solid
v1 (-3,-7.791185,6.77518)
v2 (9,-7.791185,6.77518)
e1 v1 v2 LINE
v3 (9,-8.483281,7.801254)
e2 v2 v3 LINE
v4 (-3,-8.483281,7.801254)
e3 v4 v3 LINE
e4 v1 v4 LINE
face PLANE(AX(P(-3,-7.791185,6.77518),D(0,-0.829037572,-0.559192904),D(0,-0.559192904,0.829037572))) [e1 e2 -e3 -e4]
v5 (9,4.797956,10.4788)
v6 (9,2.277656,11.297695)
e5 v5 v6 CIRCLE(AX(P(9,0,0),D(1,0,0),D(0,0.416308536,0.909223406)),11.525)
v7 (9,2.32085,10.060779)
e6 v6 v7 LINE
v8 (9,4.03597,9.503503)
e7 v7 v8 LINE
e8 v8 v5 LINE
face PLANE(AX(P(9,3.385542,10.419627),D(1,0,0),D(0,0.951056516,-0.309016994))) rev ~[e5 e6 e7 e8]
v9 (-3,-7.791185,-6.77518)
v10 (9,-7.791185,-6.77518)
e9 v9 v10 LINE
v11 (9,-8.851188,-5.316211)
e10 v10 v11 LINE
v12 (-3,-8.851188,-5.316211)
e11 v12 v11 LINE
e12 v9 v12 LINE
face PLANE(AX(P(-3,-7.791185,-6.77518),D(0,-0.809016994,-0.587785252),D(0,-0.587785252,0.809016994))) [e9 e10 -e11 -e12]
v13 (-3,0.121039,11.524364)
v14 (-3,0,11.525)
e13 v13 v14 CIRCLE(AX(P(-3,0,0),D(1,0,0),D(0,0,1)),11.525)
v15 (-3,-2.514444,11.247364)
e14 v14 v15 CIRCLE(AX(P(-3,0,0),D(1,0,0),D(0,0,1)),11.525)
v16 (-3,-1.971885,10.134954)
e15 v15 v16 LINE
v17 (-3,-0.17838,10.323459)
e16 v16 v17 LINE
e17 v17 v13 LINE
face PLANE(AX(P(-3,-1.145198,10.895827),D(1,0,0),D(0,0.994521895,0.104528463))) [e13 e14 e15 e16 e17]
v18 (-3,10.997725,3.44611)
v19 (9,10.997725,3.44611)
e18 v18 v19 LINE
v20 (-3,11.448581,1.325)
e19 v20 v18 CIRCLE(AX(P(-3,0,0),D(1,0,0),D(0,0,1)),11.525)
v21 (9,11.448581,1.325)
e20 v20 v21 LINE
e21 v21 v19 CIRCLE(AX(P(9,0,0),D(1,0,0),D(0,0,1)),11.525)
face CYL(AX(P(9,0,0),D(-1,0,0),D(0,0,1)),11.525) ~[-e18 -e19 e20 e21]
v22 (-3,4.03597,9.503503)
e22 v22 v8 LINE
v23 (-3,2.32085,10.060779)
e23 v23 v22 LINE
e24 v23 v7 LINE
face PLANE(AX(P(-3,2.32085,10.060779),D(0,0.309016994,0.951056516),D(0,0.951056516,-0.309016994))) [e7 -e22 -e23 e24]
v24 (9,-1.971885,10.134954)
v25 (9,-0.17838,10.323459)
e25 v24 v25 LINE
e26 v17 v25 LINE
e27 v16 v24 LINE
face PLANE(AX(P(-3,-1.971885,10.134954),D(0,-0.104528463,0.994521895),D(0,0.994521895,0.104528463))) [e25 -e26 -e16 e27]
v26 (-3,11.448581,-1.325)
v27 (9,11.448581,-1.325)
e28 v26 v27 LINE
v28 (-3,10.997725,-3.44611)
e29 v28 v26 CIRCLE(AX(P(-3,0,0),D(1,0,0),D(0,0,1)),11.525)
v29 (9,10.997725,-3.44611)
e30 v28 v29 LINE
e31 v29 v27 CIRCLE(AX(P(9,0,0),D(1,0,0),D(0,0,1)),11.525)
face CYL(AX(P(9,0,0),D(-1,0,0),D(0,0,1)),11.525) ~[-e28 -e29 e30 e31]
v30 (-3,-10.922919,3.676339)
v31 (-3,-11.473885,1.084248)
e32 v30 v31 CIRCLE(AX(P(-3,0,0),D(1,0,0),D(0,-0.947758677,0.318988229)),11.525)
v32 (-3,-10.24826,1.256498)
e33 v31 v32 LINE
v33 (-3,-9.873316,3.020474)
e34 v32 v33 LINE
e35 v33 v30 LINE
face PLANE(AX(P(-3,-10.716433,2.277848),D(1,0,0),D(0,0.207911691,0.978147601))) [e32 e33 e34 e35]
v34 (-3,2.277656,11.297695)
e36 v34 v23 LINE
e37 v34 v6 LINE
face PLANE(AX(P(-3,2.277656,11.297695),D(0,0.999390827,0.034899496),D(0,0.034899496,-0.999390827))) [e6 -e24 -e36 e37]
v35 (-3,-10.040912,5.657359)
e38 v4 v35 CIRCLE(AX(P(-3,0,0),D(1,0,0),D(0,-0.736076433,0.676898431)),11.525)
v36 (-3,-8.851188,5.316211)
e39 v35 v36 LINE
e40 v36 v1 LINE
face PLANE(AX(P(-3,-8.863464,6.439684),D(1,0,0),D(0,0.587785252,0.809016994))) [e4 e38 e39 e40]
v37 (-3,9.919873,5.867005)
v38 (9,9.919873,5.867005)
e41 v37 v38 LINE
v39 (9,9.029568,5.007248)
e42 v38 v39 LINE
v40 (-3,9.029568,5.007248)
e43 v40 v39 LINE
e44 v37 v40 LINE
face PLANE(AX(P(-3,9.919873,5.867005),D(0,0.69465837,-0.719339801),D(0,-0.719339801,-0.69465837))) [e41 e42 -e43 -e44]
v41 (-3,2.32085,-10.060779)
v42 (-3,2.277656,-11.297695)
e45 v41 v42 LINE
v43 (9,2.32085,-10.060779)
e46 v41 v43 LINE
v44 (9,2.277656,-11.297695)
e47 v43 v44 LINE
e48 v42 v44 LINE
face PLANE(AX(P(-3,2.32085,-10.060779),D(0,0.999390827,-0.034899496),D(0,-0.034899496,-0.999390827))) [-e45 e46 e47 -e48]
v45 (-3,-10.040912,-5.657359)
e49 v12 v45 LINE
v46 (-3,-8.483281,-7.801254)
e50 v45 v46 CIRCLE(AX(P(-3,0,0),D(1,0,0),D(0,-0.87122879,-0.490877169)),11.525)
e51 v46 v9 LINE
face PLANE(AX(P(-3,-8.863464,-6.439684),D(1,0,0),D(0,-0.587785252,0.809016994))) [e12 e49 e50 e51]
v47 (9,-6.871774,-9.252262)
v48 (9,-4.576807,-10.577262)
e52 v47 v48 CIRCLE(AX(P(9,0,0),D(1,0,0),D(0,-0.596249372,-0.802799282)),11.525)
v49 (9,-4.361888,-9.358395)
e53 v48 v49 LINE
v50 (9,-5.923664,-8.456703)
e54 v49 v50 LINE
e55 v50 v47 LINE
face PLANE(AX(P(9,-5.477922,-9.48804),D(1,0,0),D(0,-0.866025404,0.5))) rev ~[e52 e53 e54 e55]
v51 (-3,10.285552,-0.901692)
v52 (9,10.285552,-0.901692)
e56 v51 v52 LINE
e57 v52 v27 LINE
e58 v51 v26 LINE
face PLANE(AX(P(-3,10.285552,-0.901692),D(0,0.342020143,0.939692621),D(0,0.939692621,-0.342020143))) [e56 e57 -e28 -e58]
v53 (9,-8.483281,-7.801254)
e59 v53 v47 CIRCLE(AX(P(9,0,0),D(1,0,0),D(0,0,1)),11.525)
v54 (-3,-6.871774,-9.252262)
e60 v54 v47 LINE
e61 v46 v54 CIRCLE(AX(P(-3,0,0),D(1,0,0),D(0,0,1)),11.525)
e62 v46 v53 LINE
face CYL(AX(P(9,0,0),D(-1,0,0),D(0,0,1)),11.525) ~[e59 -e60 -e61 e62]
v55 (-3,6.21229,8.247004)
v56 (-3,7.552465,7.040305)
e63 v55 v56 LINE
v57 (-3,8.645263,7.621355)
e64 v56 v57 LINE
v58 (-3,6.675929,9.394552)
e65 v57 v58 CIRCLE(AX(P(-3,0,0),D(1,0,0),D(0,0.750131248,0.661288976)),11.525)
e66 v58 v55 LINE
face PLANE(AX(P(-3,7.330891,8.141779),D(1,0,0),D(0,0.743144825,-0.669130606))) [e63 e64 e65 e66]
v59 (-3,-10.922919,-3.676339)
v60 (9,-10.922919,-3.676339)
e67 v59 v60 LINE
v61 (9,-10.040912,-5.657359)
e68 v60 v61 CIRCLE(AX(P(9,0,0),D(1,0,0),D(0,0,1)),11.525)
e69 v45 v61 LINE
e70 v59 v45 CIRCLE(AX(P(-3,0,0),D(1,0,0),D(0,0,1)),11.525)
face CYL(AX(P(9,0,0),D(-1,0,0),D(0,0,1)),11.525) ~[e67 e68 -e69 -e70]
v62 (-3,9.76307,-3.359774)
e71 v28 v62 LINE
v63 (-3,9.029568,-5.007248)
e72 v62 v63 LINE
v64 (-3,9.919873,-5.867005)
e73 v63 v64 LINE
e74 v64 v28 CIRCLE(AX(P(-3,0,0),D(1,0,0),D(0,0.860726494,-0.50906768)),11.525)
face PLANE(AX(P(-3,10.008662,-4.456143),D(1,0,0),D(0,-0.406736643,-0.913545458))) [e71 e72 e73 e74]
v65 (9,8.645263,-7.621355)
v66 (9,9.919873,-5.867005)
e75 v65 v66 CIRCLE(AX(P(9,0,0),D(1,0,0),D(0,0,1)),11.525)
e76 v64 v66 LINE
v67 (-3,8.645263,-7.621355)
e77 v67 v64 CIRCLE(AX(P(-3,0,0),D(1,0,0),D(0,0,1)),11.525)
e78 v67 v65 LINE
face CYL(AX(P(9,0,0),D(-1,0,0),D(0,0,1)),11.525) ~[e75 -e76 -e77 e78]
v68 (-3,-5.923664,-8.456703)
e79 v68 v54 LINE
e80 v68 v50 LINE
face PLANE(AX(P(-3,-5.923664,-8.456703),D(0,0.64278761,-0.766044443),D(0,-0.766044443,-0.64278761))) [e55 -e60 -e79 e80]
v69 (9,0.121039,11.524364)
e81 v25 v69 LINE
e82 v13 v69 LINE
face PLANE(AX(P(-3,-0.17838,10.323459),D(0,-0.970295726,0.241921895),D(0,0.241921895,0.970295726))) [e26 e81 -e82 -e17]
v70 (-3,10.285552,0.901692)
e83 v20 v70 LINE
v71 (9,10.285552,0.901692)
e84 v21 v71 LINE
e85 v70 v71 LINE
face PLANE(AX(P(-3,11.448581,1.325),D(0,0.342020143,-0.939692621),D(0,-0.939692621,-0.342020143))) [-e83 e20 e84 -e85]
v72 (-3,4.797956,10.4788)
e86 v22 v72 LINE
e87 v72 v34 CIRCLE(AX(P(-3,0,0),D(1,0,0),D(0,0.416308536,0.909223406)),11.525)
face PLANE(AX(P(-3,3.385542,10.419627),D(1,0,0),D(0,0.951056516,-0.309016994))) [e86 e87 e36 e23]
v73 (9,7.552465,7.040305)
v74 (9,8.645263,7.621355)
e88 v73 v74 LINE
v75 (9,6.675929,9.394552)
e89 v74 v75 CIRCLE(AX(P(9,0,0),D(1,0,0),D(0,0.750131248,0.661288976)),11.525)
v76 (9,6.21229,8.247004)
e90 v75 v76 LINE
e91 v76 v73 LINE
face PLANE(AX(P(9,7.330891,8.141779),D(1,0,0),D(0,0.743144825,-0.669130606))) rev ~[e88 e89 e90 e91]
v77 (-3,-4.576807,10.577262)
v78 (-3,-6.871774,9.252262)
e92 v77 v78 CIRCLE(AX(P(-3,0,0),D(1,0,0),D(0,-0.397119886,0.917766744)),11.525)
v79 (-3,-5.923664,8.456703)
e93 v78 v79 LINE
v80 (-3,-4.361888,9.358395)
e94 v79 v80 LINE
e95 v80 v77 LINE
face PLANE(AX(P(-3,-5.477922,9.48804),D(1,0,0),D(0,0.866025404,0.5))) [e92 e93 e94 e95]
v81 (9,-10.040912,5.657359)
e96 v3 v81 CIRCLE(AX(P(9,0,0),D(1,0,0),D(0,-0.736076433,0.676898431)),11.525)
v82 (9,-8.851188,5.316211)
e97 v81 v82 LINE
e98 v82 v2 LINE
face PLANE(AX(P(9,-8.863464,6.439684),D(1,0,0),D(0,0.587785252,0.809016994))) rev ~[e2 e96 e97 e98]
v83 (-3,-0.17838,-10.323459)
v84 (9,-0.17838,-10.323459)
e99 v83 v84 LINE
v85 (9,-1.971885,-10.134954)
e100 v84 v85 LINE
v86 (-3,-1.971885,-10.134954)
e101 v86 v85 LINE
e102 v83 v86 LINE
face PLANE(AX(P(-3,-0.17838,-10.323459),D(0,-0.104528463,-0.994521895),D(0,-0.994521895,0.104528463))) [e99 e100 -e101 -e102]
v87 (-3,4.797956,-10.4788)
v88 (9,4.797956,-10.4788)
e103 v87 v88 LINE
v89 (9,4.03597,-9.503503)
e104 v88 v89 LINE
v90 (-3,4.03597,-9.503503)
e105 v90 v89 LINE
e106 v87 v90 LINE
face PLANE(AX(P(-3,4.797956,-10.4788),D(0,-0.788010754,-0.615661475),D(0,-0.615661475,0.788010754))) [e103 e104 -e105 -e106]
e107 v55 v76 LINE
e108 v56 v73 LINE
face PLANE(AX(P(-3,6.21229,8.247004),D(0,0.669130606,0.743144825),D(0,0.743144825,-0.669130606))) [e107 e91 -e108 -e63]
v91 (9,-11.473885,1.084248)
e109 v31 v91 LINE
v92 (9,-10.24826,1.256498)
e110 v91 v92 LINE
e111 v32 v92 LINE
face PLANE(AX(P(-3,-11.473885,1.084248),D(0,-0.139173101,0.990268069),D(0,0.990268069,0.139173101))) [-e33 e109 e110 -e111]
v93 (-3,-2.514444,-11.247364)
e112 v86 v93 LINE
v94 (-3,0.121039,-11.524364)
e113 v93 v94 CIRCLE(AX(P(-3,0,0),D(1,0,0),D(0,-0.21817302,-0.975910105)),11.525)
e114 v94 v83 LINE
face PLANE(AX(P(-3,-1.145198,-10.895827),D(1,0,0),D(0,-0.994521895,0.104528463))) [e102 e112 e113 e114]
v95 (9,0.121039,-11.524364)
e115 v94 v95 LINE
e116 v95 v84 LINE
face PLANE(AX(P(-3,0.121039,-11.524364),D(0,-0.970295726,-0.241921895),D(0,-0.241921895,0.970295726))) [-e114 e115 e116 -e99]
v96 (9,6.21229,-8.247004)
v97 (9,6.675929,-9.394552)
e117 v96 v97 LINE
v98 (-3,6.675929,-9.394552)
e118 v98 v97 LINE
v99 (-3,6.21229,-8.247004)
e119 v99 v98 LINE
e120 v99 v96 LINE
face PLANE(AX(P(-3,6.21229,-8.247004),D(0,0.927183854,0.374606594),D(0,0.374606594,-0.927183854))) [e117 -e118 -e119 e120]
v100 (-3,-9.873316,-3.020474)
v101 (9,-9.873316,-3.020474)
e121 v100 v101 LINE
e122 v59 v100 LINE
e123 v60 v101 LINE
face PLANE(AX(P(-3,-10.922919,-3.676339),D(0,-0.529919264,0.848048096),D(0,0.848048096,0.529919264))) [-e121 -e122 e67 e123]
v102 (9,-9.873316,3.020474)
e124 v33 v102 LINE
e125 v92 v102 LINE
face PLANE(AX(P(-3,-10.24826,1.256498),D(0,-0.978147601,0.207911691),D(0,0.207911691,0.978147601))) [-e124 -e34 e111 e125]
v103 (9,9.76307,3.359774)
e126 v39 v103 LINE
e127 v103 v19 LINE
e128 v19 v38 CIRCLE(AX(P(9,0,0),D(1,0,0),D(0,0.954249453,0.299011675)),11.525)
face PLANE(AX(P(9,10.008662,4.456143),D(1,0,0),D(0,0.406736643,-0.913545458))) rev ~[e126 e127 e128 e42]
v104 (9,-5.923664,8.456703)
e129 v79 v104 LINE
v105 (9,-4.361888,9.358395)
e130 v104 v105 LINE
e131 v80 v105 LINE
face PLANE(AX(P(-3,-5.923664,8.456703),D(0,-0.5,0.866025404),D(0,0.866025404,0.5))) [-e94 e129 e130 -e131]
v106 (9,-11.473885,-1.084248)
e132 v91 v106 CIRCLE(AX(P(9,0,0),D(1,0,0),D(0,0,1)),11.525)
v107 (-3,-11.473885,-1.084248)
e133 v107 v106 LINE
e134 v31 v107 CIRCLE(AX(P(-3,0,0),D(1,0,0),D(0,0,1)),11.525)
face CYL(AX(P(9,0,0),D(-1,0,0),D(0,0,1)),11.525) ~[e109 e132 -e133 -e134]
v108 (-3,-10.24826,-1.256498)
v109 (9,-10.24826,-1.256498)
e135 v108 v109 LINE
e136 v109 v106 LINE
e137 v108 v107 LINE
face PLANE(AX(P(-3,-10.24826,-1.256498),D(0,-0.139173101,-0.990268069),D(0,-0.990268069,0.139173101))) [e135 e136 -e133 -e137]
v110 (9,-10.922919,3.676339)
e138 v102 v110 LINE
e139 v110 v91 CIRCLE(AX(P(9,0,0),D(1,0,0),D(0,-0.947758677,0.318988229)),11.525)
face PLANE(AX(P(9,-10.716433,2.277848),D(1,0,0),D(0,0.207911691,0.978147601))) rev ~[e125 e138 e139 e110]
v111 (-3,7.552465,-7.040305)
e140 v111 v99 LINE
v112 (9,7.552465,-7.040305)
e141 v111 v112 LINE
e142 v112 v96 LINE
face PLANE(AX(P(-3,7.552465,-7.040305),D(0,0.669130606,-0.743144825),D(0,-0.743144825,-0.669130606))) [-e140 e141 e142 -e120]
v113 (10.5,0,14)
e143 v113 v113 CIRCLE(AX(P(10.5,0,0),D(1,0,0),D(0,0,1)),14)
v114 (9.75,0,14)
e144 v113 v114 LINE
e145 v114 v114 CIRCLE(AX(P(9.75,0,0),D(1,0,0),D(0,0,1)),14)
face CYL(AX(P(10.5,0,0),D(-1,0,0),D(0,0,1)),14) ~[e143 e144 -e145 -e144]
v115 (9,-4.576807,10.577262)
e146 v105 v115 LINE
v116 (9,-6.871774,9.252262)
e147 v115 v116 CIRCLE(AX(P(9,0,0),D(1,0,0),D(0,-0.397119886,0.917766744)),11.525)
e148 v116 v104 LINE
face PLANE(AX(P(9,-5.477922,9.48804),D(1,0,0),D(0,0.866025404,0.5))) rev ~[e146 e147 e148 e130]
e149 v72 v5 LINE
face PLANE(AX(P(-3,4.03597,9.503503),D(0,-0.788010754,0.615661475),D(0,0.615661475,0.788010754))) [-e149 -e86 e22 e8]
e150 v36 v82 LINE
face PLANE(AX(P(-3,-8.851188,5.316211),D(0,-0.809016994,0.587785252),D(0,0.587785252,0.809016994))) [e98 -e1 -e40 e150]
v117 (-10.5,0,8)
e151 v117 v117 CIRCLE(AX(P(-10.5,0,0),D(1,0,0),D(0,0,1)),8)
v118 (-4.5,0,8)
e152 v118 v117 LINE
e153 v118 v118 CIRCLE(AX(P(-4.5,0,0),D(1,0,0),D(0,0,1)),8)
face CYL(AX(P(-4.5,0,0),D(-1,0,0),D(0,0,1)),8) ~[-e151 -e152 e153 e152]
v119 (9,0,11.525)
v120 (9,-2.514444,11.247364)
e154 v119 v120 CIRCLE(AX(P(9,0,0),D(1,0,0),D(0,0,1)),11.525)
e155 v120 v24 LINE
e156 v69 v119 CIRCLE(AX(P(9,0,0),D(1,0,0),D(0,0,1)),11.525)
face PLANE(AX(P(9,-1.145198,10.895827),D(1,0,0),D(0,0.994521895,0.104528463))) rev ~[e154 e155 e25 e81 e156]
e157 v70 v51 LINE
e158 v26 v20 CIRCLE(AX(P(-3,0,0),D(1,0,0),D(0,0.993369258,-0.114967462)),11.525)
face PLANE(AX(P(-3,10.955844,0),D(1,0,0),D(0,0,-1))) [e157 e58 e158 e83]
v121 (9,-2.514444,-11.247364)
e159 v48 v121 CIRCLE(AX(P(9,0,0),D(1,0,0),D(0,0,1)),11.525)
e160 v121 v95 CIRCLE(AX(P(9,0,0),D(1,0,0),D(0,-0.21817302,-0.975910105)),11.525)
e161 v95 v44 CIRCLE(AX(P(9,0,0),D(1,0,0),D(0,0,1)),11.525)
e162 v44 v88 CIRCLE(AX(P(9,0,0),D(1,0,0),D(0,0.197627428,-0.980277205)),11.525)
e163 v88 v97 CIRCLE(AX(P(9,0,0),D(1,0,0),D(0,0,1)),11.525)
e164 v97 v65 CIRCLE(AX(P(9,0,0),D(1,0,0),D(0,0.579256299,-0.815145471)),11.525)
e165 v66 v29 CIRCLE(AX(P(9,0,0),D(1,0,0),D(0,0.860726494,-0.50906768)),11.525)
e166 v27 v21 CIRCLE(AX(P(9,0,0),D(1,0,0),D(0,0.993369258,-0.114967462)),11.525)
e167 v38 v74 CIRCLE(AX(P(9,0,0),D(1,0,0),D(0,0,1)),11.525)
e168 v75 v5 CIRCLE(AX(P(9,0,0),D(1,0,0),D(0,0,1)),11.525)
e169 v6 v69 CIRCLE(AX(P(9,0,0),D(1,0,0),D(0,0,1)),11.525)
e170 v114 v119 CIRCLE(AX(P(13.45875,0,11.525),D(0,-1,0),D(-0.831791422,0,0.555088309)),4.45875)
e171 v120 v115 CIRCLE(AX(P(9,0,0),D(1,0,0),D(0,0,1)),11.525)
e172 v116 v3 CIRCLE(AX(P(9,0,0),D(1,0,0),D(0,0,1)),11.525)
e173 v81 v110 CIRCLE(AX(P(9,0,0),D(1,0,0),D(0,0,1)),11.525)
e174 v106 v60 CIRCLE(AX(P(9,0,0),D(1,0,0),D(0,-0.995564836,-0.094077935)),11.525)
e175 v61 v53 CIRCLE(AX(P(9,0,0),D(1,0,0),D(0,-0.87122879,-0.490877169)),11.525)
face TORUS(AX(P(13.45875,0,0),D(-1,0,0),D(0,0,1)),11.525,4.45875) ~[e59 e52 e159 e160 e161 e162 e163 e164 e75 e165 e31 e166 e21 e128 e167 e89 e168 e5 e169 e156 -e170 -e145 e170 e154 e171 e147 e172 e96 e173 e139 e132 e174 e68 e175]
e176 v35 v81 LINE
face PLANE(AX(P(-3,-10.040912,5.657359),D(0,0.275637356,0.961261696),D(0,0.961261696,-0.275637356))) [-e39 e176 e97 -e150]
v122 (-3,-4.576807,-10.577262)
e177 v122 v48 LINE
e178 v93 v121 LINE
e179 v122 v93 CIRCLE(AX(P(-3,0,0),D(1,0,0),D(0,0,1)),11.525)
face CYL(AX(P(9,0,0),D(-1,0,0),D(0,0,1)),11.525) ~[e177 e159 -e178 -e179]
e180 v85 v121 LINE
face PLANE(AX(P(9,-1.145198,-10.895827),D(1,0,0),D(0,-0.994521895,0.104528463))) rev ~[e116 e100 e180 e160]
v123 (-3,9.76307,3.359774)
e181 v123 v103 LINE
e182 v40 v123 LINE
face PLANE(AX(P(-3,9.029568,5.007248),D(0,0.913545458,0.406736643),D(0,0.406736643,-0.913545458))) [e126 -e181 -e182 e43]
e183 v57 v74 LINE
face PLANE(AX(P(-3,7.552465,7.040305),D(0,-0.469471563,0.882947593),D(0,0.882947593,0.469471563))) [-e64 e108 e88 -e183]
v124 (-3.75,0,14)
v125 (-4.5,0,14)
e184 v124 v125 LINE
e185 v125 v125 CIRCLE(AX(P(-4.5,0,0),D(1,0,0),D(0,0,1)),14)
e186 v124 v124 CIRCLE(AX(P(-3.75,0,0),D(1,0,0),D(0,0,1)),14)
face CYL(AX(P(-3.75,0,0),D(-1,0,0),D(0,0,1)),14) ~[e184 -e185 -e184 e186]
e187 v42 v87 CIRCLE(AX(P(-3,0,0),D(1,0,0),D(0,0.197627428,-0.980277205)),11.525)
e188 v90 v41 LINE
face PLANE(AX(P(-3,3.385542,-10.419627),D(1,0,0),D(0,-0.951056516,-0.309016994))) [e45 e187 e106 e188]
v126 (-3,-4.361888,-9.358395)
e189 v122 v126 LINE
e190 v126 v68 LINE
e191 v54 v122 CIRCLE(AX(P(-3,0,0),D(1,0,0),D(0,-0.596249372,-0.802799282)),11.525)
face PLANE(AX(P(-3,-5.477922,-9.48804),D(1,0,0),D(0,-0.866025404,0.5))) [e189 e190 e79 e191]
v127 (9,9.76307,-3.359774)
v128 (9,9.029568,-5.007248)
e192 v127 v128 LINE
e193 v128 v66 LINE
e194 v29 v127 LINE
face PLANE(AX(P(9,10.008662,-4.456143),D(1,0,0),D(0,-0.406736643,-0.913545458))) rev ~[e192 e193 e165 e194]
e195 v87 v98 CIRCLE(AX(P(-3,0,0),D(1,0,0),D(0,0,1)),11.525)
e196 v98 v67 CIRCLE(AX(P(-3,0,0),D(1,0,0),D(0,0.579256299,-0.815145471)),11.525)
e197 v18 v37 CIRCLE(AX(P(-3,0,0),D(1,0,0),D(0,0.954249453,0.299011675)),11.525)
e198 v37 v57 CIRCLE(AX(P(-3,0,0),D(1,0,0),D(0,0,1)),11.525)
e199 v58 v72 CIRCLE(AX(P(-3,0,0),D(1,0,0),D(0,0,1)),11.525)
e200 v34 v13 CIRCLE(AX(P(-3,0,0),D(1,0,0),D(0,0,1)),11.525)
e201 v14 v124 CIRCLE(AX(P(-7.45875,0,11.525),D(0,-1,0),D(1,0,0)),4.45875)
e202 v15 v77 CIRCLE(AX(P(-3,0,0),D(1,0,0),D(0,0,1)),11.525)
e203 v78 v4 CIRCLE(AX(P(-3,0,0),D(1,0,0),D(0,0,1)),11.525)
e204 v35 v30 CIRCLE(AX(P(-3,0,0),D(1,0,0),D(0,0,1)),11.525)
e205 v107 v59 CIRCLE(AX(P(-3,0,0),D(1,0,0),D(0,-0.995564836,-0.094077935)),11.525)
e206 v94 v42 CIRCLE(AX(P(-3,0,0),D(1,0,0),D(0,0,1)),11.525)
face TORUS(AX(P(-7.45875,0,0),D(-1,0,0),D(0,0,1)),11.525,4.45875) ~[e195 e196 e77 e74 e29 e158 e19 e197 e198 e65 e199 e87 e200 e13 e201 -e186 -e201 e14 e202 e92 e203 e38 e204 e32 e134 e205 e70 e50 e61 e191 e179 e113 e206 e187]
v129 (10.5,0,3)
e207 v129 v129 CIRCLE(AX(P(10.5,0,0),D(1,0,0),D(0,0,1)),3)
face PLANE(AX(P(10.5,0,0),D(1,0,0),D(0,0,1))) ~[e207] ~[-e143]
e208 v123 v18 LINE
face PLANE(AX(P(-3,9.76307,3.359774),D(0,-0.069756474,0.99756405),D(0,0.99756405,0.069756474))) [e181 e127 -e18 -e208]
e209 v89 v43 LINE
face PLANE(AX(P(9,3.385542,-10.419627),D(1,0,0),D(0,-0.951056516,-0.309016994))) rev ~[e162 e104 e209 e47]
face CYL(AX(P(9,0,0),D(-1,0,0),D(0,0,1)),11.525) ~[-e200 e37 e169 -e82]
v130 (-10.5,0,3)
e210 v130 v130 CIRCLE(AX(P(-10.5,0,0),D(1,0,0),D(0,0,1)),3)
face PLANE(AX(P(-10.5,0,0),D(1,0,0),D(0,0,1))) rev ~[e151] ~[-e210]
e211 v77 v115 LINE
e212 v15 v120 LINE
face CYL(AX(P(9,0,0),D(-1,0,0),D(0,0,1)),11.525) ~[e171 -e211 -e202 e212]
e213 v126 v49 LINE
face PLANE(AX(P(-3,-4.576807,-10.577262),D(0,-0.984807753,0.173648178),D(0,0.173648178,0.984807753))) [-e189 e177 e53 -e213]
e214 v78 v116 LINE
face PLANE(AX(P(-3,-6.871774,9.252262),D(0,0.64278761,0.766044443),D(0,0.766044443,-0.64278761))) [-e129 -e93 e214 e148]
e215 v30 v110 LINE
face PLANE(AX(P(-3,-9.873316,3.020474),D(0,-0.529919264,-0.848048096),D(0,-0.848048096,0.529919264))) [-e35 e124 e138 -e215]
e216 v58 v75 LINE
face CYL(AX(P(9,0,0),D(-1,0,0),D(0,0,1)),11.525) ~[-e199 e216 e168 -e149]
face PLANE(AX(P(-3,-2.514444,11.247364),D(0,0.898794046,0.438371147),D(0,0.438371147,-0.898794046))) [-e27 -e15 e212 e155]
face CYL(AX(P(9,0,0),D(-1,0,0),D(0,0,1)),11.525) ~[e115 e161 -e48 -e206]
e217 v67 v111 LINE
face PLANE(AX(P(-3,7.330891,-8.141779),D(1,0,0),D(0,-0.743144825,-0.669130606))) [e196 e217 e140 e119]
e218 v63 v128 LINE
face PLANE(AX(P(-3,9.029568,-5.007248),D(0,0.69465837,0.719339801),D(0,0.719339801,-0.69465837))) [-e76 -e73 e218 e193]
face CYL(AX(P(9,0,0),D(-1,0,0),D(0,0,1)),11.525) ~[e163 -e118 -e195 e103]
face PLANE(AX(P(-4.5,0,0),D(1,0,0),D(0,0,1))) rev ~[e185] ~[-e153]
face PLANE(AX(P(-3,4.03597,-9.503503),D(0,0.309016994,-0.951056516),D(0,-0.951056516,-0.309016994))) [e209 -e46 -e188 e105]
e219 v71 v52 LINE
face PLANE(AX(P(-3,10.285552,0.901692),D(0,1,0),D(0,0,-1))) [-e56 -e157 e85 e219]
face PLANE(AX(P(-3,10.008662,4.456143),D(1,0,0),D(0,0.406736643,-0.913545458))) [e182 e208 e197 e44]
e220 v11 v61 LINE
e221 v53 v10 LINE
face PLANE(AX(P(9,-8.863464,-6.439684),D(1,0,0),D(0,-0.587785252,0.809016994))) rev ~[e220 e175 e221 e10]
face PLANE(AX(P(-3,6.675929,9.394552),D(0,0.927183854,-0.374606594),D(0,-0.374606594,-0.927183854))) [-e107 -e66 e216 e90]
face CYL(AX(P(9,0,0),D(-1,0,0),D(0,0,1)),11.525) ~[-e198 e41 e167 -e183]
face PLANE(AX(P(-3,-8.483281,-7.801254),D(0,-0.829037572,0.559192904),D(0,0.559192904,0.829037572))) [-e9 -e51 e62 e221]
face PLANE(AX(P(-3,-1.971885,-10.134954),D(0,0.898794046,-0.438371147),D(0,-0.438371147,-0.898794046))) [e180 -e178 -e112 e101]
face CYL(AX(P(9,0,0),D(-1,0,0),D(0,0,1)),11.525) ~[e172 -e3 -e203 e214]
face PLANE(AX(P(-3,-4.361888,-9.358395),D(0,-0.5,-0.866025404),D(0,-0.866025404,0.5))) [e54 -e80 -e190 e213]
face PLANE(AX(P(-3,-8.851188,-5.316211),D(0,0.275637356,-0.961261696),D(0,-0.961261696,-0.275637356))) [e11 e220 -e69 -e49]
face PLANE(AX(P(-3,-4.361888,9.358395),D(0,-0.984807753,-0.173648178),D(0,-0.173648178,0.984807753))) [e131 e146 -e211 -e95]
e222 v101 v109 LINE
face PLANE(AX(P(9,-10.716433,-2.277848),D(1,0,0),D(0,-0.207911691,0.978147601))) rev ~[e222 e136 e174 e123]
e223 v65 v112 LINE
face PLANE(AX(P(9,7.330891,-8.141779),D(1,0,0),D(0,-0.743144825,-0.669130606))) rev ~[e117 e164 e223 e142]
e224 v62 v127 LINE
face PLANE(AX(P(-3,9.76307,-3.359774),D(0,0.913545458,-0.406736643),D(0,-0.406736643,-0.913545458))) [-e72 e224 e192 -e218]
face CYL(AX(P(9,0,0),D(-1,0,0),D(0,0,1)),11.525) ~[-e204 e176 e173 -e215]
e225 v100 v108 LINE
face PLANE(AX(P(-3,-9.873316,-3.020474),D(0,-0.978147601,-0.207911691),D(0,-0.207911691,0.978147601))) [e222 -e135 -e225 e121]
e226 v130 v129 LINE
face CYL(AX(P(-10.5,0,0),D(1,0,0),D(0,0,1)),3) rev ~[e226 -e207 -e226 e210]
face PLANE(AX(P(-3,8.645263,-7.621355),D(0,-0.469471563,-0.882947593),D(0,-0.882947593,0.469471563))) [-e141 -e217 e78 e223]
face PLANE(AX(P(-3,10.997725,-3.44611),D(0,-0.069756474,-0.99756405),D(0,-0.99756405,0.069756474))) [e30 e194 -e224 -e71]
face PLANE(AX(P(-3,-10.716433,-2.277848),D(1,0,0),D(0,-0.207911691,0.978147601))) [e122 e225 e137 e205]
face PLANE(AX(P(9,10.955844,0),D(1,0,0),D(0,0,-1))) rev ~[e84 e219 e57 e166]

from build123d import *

# Parameters (mm, degrees)
CUT_EXTRUDE1_START = -3
CUT_EXTRUDE1_DEPTH = 12
CIRPATTERN1_COUNT  = 15


with BuildPart() as part:
    # Sketch1 → Revolve1 (revolve)
    with BuildSketch(Plane.XY, mode=Mode.PRIVATE) as revolve1_sk:
        with BuildLine():
            Line((-10.5, 3), (10.5, 3))
            Line((10.5, 3), (10.5, 14))
            Line((10.5, 14), (9.75, 14))
            ThreePointArc((9.75, 14), (9.191617437, 12.818070474), (9, 11.525))
            Line((9, 11.525), (-3, 11.525))
            ThreePointArc((-3, 11.525), (-3.191617437, 12.818070474), (-3.75, 14))
            Line((-3.75, 14), (-4.5, 14))
            Line((-4.5, 14), (-4.5, 8))
            Line((-4.5, 8), (-10.5, 8))
            Line((-10.5, 8), (-10.5, 3))
        make_face()
    revolve(revolve1_sk.sketch.rotate(Axis((-10.5, 0, 0), (1, 0, 0)), 90), axis=Axis((-10.5, 0, 0), (1, 0, 0)))

    # Sketch3 → Cut-Extrude1 (cut)
    with BuildSketch(Plane(origin=(0, 0, 0), x_dir=(0, 0, -1), z_dir=(1, 0, 0)).offset(CUT_EXTRUDE1_START)):
        with BuildLine():
            Line((-1.325, 11.448580698), (-0.901692109, 10.285551825))
            Line((-0.901692109, 10.285551825), (0.901692109, 10.285551825))
            Line((0.901692109, 10.285551825), (1.325, 11.448580698))
            ThreePointArc((1.325, 11.448580698), (0, 11.525), (-1.325, 11.448580698))
        make_face()
    cut_extrude1 = extrude(amount=CUT_EXTRUDE1_DEPTH, mode=Mode.SUBTRACT)

    # CirPattern1: Cut-Extrude1 ×15 about axis
    cirpattern1_axis = Axis((0, 0, 0), (1, 0, 0))
    for i in range(1, CIRPATTERN1_COUNT):
        add(cut_extrude1.rotate(cirpattern1_axis, i * 360 / CIRPATTERN1_COUNT), mode=Mode.SUBTRACT)


solid = part.part
